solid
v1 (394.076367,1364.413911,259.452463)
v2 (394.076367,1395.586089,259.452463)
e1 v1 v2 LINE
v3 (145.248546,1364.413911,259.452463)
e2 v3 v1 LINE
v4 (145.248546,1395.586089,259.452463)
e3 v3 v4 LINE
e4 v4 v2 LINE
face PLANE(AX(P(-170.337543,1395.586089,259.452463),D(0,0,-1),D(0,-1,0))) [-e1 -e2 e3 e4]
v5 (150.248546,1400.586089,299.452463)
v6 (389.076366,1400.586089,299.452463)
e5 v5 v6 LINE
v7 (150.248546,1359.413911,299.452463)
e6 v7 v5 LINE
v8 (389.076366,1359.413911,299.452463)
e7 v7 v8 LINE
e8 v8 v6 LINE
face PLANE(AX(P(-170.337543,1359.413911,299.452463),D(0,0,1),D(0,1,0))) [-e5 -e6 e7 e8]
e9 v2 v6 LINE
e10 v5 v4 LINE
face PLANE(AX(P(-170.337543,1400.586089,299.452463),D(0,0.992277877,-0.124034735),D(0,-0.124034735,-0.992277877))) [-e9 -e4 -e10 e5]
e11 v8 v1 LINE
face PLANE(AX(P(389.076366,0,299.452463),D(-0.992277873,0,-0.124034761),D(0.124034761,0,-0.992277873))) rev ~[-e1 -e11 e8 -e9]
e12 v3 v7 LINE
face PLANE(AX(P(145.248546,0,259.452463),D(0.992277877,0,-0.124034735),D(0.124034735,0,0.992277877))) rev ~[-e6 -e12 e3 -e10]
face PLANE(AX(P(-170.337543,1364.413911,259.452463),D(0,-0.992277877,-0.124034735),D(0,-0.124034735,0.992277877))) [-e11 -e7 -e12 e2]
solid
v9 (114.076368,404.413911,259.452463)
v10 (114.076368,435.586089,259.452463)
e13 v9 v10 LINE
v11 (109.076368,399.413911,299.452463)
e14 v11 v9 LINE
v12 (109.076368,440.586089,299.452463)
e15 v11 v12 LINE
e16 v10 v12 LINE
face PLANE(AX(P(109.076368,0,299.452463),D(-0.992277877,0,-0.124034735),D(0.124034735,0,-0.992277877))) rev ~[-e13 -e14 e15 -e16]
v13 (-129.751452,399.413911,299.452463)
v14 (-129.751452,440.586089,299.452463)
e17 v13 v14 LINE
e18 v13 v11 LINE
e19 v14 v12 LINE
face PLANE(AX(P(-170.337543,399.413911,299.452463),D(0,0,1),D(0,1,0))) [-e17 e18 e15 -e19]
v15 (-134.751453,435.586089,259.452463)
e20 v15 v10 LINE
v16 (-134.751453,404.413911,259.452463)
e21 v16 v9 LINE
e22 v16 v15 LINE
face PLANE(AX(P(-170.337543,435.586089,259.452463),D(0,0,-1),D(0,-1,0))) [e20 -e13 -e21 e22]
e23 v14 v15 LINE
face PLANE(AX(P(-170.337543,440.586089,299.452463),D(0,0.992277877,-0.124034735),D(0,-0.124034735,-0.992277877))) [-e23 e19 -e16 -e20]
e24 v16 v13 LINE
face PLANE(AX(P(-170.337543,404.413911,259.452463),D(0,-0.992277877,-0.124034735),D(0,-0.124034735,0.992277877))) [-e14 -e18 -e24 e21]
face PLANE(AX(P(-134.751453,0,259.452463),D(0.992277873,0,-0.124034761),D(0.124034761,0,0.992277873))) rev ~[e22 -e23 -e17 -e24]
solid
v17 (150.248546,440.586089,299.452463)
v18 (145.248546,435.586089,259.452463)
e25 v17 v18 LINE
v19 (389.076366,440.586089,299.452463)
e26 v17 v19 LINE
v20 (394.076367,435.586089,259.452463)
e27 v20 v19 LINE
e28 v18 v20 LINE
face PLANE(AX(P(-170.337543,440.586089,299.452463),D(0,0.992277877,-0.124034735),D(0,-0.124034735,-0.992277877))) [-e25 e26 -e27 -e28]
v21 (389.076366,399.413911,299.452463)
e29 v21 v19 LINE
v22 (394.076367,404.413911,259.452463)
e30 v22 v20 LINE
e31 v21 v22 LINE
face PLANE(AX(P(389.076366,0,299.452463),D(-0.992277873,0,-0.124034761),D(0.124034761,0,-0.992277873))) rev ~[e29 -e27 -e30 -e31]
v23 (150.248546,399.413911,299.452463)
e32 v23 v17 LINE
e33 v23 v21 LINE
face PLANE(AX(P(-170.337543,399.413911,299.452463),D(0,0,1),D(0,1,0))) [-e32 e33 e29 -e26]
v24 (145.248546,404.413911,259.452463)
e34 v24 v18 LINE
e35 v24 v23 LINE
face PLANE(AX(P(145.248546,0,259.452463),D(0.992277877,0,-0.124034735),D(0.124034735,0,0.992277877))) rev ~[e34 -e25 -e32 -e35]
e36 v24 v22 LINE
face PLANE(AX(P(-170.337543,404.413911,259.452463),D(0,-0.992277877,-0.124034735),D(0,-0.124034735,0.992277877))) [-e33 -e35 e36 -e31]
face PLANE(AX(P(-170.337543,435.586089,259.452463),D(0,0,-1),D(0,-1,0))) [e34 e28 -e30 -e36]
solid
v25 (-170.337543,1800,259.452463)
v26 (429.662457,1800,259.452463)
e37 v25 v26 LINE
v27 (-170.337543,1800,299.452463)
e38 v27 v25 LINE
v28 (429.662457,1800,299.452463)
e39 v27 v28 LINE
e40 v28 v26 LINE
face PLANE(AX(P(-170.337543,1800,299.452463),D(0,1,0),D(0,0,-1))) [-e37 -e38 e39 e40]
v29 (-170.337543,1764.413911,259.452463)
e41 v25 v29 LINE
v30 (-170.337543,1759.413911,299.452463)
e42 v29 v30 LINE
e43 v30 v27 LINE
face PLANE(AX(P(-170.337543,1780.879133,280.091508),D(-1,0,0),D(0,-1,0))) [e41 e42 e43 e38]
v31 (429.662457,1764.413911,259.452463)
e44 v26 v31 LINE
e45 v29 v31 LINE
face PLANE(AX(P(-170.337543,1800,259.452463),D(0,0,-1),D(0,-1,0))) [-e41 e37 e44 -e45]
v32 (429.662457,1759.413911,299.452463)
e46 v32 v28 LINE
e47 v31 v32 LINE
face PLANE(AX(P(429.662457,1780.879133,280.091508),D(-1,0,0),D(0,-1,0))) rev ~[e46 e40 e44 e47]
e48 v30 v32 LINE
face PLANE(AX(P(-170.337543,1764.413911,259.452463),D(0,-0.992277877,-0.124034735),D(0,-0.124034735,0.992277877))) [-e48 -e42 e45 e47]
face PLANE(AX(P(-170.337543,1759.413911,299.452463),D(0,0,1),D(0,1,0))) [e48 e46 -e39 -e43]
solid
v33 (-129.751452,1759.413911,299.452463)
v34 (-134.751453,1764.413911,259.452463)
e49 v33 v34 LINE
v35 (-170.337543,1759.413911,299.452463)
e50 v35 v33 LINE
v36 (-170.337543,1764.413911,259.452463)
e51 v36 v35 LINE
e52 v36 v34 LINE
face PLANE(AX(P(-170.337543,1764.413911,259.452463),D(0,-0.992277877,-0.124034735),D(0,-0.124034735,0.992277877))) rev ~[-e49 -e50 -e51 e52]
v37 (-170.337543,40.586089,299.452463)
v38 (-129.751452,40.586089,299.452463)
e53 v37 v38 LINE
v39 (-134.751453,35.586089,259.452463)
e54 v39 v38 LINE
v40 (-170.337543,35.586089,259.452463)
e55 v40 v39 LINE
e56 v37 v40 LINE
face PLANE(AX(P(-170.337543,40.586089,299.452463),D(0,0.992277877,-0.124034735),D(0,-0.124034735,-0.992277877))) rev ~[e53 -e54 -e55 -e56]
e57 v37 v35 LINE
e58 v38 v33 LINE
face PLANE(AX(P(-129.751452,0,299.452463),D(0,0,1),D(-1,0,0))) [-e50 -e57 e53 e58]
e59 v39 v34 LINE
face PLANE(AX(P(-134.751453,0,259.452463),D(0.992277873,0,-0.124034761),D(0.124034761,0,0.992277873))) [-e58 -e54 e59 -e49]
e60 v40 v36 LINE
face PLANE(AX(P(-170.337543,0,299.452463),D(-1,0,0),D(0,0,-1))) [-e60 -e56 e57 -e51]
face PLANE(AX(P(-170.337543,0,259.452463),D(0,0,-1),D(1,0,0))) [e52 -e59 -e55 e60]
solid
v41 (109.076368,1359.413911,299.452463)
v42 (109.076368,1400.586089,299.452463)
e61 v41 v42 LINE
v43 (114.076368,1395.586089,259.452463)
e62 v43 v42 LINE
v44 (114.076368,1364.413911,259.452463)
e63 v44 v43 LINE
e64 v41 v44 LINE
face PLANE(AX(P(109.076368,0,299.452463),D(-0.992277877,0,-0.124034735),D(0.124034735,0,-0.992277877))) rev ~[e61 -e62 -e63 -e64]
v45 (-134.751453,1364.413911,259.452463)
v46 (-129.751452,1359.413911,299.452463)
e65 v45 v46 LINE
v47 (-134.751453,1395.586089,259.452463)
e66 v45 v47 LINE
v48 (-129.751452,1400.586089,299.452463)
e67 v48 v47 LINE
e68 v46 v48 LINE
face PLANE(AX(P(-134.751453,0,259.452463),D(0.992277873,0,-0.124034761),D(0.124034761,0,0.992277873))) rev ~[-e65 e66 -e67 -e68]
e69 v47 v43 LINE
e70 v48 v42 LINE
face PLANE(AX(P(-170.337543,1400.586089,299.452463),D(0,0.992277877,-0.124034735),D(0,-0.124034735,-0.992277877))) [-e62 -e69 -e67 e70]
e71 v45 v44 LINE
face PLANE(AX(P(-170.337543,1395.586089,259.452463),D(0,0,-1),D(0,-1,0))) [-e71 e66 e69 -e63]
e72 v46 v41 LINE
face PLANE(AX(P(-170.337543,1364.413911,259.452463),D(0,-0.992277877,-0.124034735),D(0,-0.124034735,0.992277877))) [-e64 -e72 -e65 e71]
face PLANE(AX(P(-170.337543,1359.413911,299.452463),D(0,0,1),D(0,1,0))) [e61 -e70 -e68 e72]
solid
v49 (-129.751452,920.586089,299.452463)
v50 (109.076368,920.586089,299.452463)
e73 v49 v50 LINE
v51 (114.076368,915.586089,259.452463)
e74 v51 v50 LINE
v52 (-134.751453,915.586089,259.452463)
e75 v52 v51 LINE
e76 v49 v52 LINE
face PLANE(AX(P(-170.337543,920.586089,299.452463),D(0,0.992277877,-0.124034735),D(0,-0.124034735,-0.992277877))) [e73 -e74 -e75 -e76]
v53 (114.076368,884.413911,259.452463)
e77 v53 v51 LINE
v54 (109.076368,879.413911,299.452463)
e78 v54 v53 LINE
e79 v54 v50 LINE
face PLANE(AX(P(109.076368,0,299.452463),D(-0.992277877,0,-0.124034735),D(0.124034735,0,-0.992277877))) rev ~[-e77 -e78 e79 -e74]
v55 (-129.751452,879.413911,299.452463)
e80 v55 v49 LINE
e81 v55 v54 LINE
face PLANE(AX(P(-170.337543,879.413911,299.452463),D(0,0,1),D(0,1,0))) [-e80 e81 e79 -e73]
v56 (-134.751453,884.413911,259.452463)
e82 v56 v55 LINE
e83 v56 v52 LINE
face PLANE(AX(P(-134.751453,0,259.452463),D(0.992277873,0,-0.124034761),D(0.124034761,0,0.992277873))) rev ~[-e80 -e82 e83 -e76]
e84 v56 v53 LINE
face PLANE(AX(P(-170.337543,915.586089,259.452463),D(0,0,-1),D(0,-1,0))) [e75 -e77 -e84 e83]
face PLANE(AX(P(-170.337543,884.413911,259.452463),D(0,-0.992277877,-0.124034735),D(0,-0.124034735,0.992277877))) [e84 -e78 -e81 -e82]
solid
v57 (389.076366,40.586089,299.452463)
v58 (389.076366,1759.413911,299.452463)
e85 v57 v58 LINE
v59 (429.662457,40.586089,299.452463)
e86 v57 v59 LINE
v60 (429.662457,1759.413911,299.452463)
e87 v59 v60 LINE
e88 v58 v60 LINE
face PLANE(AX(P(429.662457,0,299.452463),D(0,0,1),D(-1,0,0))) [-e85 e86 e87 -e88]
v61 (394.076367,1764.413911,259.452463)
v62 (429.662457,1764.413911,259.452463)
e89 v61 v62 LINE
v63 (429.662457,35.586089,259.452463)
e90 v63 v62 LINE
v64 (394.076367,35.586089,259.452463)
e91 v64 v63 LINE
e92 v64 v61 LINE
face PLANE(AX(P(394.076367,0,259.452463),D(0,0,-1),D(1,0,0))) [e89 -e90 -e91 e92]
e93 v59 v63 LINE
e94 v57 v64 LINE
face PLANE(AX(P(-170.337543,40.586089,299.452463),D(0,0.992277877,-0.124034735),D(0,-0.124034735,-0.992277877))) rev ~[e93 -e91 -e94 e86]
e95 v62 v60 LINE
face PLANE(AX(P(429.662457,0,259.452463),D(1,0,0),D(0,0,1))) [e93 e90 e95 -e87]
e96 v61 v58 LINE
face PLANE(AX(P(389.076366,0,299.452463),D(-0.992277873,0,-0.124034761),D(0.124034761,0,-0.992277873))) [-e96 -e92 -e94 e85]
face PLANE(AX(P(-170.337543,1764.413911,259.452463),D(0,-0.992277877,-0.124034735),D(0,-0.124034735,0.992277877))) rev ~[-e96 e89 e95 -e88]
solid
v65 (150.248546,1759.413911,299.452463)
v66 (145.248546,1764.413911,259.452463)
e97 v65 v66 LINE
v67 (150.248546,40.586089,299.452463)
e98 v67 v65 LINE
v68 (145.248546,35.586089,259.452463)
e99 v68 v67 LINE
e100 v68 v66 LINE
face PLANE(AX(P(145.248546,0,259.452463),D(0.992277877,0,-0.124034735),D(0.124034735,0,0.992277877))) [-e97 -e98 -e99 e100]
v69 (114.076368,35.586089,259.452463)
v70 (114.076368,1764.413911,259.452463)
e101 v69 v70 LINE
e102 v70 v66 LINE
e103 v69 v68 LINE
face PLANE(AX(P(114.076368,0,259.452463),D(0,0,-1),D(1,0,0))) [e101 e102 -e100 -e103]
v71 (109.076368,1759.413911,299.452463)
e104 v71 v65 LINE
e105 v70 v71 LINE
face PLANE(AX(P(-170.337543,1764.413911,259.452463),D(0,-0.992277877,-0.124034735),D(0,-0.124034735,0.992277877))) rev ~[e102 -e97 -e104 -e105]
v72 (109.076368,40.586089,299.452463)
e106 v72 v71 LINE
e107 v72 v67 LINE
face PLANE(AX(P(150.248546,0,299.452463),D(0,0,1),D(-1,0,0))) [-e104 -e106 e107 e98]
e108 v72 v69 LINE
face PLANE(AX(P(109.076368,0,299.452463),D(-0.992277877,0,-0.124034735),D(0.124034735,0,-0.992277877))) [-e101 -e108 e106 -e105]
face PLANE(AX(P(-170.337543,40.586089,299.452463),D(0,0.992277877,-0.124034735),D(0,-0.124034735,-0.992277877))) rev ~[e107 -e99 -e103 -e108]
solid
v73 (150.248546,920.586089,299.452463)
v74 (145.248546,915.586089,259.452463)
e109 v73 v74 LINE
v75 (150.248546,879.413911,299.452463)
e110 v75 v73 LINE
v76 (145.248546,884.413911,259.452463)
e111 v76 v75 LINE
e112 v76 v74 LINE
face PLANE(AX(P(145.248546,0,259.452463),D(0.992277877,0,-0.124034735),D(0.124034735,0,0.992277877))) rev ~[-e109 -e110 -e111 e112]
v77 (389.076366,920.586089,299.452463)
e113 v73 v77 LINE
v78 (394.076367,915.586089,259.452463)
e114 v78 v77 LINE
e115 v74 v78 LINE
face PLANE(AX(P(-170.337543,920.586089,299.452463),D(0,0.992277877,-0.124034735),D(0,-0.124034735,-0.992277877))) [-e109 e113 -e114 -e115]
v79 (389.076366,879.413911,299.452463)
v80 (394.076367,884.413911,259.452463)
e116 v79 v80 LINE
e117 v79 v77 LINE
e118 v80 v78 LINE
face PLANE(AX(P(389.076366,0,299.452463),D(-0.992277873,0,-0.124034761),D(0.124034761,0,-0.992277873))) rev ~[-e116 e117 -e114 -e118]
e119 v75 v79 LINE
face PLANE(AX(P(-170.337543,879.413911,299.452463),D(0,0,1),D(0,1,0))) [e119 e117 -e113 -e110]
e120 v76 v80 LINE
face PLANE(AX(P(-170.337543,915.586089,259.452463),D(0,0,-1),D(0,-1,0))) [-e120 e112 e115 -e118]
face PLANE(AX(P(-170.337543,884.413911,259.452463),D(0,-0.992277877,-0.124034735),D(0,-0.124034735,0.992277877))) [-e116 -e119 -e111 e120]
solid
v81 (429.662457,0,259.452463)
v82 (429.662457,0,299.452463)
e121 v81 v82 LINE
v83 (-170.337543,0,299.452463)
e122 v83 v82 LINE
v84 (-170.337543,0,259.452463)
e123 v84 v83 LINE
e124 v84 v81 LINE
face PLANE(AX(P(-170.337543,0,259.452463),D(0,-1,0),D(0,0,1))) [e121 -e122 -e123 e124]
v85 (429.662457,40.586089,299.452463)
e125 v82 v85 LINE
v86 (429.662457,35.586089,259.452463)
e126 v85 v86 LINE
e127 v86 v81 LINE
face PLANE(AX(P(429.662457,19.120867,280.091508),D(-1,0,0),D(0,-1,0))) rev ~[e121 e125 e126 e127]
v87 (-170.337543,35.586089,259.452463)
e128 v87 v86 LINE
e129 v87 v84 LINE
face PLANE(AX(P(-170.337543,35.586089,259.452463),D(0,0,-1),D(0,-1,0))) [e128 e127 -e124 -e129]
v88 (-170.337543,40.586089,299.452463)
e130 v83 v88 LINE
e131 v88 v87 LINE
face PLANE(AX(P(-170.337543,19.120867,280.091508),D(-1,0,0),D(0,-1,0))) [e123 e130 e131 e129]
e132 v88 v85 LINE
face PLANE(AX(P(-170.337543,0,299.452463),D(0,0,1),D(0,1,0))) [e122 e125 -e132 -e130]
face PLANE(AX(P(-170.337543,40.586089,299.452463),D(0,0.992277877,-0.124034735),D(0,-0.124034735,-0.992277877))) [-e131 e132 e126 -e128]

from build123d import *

# Parameters (mm, degrees)
F1_DEPTH  = 1800
F3_DEPTH  = 800
F4_DEPTH  = 600
F5_DEPTH  = 600
F6_DEPTH  = 800
F7_DEPTH  = 600
F8_DEPTH  = 1900
F9_DEPTH  = 1900
F10_DEPTH = 1900
F11_DEPTH = 800
F12_DEPTH = 1800
F13_DEPTH = 600


with BuildPart() as f1:
    # F0 (on Front) → F1 (new body)
    with BuildSketch(Plane.XZ):
        Polygon((-134.7514528915, 259.4524627924), (-170.3375428915, 259.4524627924), (-170.3375428915, 254.4524627924), (-130.3375428915, 254.4524627924), (-125.3375428915, 294.4524627924), (104.6624571085, 294.4524627924), (109.6624571085, 254.4524627924), (129.6624571085, 254.4524627924), (129.6624571085, 259.4524627924), (114.0763682012, 259.4524627924), (109.0763682012, 299.4524627924), (-129.7514517988, 299.4524627924), align=None)
        Polygon((-170.3375428915, 299.4524627924), (-170.3375428915, 259.4524627924), (-134.7514528915, 259.4524627924), (-129.7514517988, 299.4524627924), align=None)
        Polygon((150.2485460158, 299.4524627924), (109.0763682012, 299.4524627924), (114.0763682012, 259.4524627924), (129.6624571085, 259.4524627924), (145.2485460158, 259.4524627924), align=None)
        Polygon((389.0763660158, 299.4524627924), (150.2485460158, 299.4524627924), (145.2485460158, 259.4524627924), (129.6624571085, 259.4524627924), (129.6624571085, 254.4524627924), (149.6624571085, 254.4524627924), (154.6624571085, 294.4524627924), (384.6624571085, 294.4524627924), (389.6624571085, 254.4524627924), (429.6624571085, 254.4524627924), (429.6624571085, 259.4524627924), (394.0763671085, 259.4524627924), align=None)
        Polygon((429.6624571085, 299.4524627924), (389.0763660158, 299.4524627924), (394.0763671085, 259.4524627924), (429.6624571085, 259.4524627924), align=None)
    extrude(amount=-F1_DEPTH)

    # F2 (on face) → F3 (cut)
    with BuildSketch(Plane(origin=(-170.3375428915, 0, 0), x_dir=(0, -1, 0), z_dir=(-1, 0, 0))):
        Polygon((-1800, 254.4524627924), (-1760, 254.4524627924), (-1759.375, 259.4524627924), (-1755, 294.4524627924), (-1760.0389110927, 294.4524627924), (-1764.4139110927, 259.4524627924), (-1800, 259.4524627924), align=None)
    extrude(amount=-F3_DEPTH, mode=Mode.SUBTRACT)

    # F2 (on face) → F4 (join)
    with BuildSketch(Plane(origin=(-170.3375428915, 0, 0), x_dir=(0, -1, 0), z_dir=(-1, 0, 0))):
        Polygon((-1760.0389110927, 294.4524627924), (-1759.4139110927, 299.4524627924), (-1800, 299.4524627924), (-1800, 259.4524627924), (-1764.4139110927, 259.4524627924), align=None)
    extrude(amount=-F4_DEPTH)

    # F2 (on face) → F5 (join)
    with BuildSketch(Plane(origin=(-170.3375428915, 0, 0), x_dir=(0, -1, 0), z_dir=(-1, 0, 0))):
        Polygon((-1800, 254.4524627924), (-1760, 254.4524627924), (-1759.375, 259.4524627924), (-1755, 294.4524627924), (-1760.0389110927, 294.4524627924), (-1764.4139110927, 259.4524627924), (-1800, 259.4524627924), align=None)
    extrude(amount=-F5_DEPTH)

    # F2 (on face) → F6 (cut)
    with BuildSketch(Plane(origin=(-170.3375428915, 0, 0), x_dir=(0, -1, 0), z_dir=(-1, 0, 0))):
        Polygon((-1400, 254.4524627924), (-1360, 254.4524627924), (-1355, 294.4524627924), (-1360.0389110927, 294.4524627924), (-1364.4139110927, 259.4524627924), (-1395.5860889073, 259.4524627924), (-1399.9610889073, 294.4524627924), (-1405, 294.4524627924), (-1400.625, 259.4524627924), align=None)
        Polygon((-880.0389110927, 294.4524627924), (-879.4139110927, 299.4524627924), (-900, 299.4524627924), (-920.5860889073, 299.4524627924), (-919.9610889073, 294.4524627924), (-915.5860889073, 259.4524627924), (-900, 259.4524627924), (-884.4139110927, 259.4524627924), align=None)
        Polygon((-900, 254.4524627924), (-880, 254.4524627924), (-879.375, 259.4524627924), (-875, 294.4524627924), (-880.0389110927, 294.4524627924), (-884.4139110927, 259.4524627924), (-900, 259.4524627924), (-915.5860889073, 259.4524627924), (-919.9610889073, 294.4524627924), (-925, 294.4524627924), (-920, 254.4524627924), align=None)
        Polygon((-400.0389110927, 294.4524627924), (-399.4139110927, 299.4524627924), (-440.5860889073, 299.4524627924), (-439.9610889073, 294.4524627924), (-435.5860889073, 259.4524627924), (-404.4139110927, 259.4524627924), align=None)
        Polygon((-35.5860889073, 259.4524627924), (0, 259.4524627924), (0, 299.4524627924), (-40.5860889073, 299.4524627924), (-39.9610889073, 294.4524627924), align=None)
    extrude(amount=-F6_DEPTH, mode=Mode.SUBTRACT)

    # F2 (on face) → F7 (join)
    with BuildSketch(Plane(origin=(-170.3375428915, 0, 0), x_dir=(0, -1, 0), z_dir=(-1, 0, 0))):
        Polygon((-40, 254.4524627924), (0, 254.4524627924), (0, 259.4524627924), (-35.5860889073, 259.4524627924), (-39.9610889073, 294.4524627924), (-45, 294.4524627924), (-40.625, 259.4524627924), align=None)
        Polygon((-440, 254.4524627924), (-400, 254.4524627924), (-399.375, 259.4524627924), (-395, 294.4524627924), (-400.0389110927, 294.4524627924), (-404.4139110927, 259.4524627924), (-435.5860889073, 259.4524627924), (-439.9610889073, 294.4524627924), (-445, 294.4524627924), (-440.625, 259.4524627924), align=None)
        Polygon((-900, 254.4524627924), (-880, 254.4524627924), (-879.375, 259.4524627924), (-875, 294.4524627924), (-880.0389110927, 294.4524627924), (-884.4139110927, 259.4524627924), (-900, 259.4524627924), (-915.5860889073, 259.4524627924), (-919.9610889073, 294.4524627924), (-925, 294.4524627924), (-920, 254.4524627924), align=None)
        Polygon((-880.0389110927, 294.4524627924), (-879.4139110927, 299.4524627924), (-900, 299.4524627924), (-920.5860889073, 299.4524627924), (-919.9610889073, 294.4524627924), (-915.5860889073, 259.4524627924), (-900, 259.4524627924), (-884.4139110927, 259.4524627924), align=None)
        Polygon((-1400, 254.4524627924), (-1360, 254.4524627924), (-1355, 294.4524627924), (-1360.0389110927, 294.4524627924), (-1364.4139110927, 259.4524627924), (-1395.5860889073, 259.4524627924), (-1399.9610889073, 294.4524627924), (-1405, 294.4524627924), (-1400.625, 259.4524627924), align=None)
        Polygon((-1360.0389110927, 294.4524627924), (-1359.4139110927, 299.4524627924), (-1400.5860889073, 299.4524627924), (-1399.9610889073, 294.4524627924), (-1395.5860889073, 259.4524627924), (-1364.4139110927, 259.4524627924), align=None)
    extrude(amount=-F7_DEPTH)

    # F0 (on Front) → F8 (cut)
    with BuildSketch(Plane.XZ):
        Polygon((-170.3375428915, 299.4524627924), (-170.3375428915, 259.4524627924), (-134.7514528915, 259.4524627924), (-129.7514517988, 299.4524627924), align=None)
    extrude(amount=-F8_DEPTH, mode=Mode.SUBTRACT)

    # F0 (on Front) → F9 (cut)
    with BuildSketch(Plane.XZ):
        Polygon((150.2485460158, 299.4524627924), (109.0763682012, 299.4524627924), (114.0763682012, 259.4524627924), (129.6624571085, 259.4524627924), (145.2485460158, 259.4524627924), align=None)
    extrude(amount=-F9_DEPTH, mode=Mode.SUBTRACT)

    # F0 (on Front) → F10 (cut)
    with BuildSketch(Plane.XZ):
        Polygon((429.6624571085, 299.4524627924), (389.0763660158, 299.4524627924), (394.0763671085, 259.4524627924), (429.6624571085, 259.4524627924), align=None)
    extrude(amount=-F10_DEPTH, mode=Mode.SUBTRACT)

    # F2 (on face) → F11 (cut)
    with BuildSketch(Plane(origin=(-170.3375428915, 0, 0), x_dir=(0, -1, 0), z_dir=(-1, 0, 0))):
        Polygon((-1760.0389110927, 294.4524627924), (-1759.4139110927, 299.4524627924), (-1800, 299.4524627924), (-1800, 259.4524627924), (-1764.4139110927, 259.4524627924), align=None)
        Polygon((-1360.0389110927, 294.4524627924), (-1359.4139110927, 299.4524627924), (-1400.5860889073, 299.4524627924), (-1399.9610889073, 294.4524627924), (-1395.5860889073, 259.4524627924), (-1364.4139110927, 259.4524627924), align=None)
        Polygon((-880.0389110927, 294.4524627924), (-879.4139110927, 299.4524627924), (-900, 299.4524627924), (-920.5860889073, 299.4524627924), (-919.9610889073, 294.4524627924), (-915.5860889073, 259.4524627924), (-900, 259.4524627924), (-884.4139110927, 259.4524627924), align=None)
    extrude(amount=-F11_DEPTH, mode=Mode.SUBTRACT)


with BuildPart() as f12:
    # F0 (on Front) → F12 (new body)
    with BuildSketch(Plane.XZ):
        Polygon((-170.3375428915, 299.4524627924), (-170.3375428915, 259.4524627924), (-134.7514528915, 259.4524627924), (-129.7514517988, 299.4524627924), align=None)
    extrude(amount=-F12_DEPTH)


with BuildPart() as f12b:
    # F0 (on Front) → F12, piece 2 (new body)
    with BuildSketch(Plane.XZ):
        Polygon((150.2485460158, 299.4524627924), (109.0763682012, 299.4524627924), (114.0763682012, 259.4524627924), (129.6624571085, 259.4524627924), (145.2485460158, 259.4524627924), align=None)
    extrude(amount=-F12_DEPTH)


with BuildPart() as f12c:
    # F0 (on Front) → F12, piece 3 (new body)
    with BuildSketch(Plane.XZ):
        Polygon((429.6624571085, 299.4524627924), (389.0763660158, 299.4524627924), (394.0763671085, 259.4524627924), (429.6624571085, 259.4524627924), align=None)
    extrude(amount=-F12_DEPTH)


with BuildPart() as f13:
    # F2 (on face) → F13 (new body)
    with BuildSketch(Plane(origin=(-170.3375428915, 0, 0), x_dir=(0, -1, 0), z_dir=(-1, 0, 0))):
        Polygon((-1760.0389110927, 294.4524627924), (-1759.4139110927, 299.4524627924), (-1800, 299.4524627924), (-1800, 259.4524627924), (-1764.4139110927, 259.4524627924), align=None)
    extrude(amount=-F13_DEPTH)


with BuildPart() as f13b:
    # F2 (on face) → F13, piece 2 (new body)
    with BuildSketch(Plane(origin=(-170.3375428915, 0, 0), x_dir=(0, -1, 0), z_dir=(-1, 0, 0))):
        Polygon((-1360.0389110927, 294.4524627924), (-1359.4139110927, 299.4524627924), (-1400.5860889073, 299.4524627924), (-1399.9610889073, 294.4524627924), (-1395.5860889073, 259.4524627924), (-1364.4139110927, 259.4524627924), align=None)
    extrude(amount=-F13_DEPTH)

    # F14: cut F12c, F12b, F12
    add(f12c.part, mode=Mode.SUBTRACT)
    add(f12b.part, mode=Mode.SUBTRACT)
    add(f12.part, mode=Mode.SUBTRACT)


with BuildPart() as f13c:
    # F2 (on face) → F13, piece 3 (new body)
    with BuildSketch(Plane(origin=(-170.3375428915, 0, 0), x_dir=(0, -1, 0), z_dir=(-1, 0, 0))):
        Polygon((-880.0389110927, 294.4524627924), (-879.4139110927, 299.4524627924), (-900, 299.4524627924), (-920.5860889073, 299.4524627924), (-919.9610889073, 294.4524627924), (-915.5860889073, 259.4524627924), (-900, 259.4524627924), (-884.4139110927, 259.4524627924), align=None)
    extrude(amount=-F13_DEPTH)

    # F14: cut F12c, F12b, F12
    add(f12c.part, mode=Mode.SUBTRACT)
    add(f12b.part, mode=Mode.SUBTRACT)
    add(f12.part, mode=Mode.SUBTRACT)


with BuildPart() as f13d:
    # F2 (on face) → F13, piece 4 (new body)
    with BuildSketch(Plane(origin=(-170.3375428915, 0, 0), x_dir=(0, -1, 0), z_dir=(-1, 0, 0))):
        Polygon((-400.0389110927, 294.4524627924), (-399.4139110927, 299.4524627924), (-440.5860889073, 299.4524627924), (-439.9610889073, 294.4524627924), (-435.5860889073, 259.4524627924), (-404.4139110927, 259.4524627924), align=None)
    extrude(amount=-F13_DEPTH)

    # F14: cut F12c, F12b, F12
    add(f12c.part, mode=Mode.SUBTRACT)
    add(f12b.part, mode=Mode.SUBTRACT)
    add(f12.part, mode=Mode.SUBTRACT)


with BuildPart() as f13e:
    # F2 (on face) → F13, piece 5 (new body)
    with BuildSketch(Plane(origin=(-170.3375428915, 0, 0), x_dir=(0, -1, 0), z_dir=(-1, 0, 0))):
        Polygon((-35.5860889073, 259.4524627924), (0, 259.4524627924), (0, 299.4524627924), (-40.5860889073, 299.4524627924), (-39.9610889073, 294.4524627924), align=None)
    extrude(amount=-F13_DEPTH)


with BuildPart() as f1_1:
    add(f1.part)

    # F15: cut F13e
    add(f13e.part, mode=Mode.SUBTRACT)


with BuildPart() as f12b_1:
    add(f12b.part)

    # F15: cut F13e
    add(f13e.part, mode=Mode.SUBTRACT)

    # F16: cut F13e, F13
    add(f13e.part, mode=Mode.SUBTRACT)
    add(f13.part, mode=Mode.SUBTRACT)


with BuildPart() as f12c_1:
    add(f12c.part)

    # F16: cut F13e, F13
    add(f13e.part, mode=Mode.SUBTRACT)
    add(f13.part, mode=Mode.SUBTRACT)


with BuildPart() as f12_1:
    add(f12.part)

    # F16: cut F13e, F13
    add(f13e.part, mode=Mode.SUBTRACT)
    add(f13.part, mode=Mode.SUBTRACT)


solid = Compound([f13.part, f13b.part, f13c.part, f13d.part, f13e.part, f12b_1.part, f12c_1.part, f12_1.part])
